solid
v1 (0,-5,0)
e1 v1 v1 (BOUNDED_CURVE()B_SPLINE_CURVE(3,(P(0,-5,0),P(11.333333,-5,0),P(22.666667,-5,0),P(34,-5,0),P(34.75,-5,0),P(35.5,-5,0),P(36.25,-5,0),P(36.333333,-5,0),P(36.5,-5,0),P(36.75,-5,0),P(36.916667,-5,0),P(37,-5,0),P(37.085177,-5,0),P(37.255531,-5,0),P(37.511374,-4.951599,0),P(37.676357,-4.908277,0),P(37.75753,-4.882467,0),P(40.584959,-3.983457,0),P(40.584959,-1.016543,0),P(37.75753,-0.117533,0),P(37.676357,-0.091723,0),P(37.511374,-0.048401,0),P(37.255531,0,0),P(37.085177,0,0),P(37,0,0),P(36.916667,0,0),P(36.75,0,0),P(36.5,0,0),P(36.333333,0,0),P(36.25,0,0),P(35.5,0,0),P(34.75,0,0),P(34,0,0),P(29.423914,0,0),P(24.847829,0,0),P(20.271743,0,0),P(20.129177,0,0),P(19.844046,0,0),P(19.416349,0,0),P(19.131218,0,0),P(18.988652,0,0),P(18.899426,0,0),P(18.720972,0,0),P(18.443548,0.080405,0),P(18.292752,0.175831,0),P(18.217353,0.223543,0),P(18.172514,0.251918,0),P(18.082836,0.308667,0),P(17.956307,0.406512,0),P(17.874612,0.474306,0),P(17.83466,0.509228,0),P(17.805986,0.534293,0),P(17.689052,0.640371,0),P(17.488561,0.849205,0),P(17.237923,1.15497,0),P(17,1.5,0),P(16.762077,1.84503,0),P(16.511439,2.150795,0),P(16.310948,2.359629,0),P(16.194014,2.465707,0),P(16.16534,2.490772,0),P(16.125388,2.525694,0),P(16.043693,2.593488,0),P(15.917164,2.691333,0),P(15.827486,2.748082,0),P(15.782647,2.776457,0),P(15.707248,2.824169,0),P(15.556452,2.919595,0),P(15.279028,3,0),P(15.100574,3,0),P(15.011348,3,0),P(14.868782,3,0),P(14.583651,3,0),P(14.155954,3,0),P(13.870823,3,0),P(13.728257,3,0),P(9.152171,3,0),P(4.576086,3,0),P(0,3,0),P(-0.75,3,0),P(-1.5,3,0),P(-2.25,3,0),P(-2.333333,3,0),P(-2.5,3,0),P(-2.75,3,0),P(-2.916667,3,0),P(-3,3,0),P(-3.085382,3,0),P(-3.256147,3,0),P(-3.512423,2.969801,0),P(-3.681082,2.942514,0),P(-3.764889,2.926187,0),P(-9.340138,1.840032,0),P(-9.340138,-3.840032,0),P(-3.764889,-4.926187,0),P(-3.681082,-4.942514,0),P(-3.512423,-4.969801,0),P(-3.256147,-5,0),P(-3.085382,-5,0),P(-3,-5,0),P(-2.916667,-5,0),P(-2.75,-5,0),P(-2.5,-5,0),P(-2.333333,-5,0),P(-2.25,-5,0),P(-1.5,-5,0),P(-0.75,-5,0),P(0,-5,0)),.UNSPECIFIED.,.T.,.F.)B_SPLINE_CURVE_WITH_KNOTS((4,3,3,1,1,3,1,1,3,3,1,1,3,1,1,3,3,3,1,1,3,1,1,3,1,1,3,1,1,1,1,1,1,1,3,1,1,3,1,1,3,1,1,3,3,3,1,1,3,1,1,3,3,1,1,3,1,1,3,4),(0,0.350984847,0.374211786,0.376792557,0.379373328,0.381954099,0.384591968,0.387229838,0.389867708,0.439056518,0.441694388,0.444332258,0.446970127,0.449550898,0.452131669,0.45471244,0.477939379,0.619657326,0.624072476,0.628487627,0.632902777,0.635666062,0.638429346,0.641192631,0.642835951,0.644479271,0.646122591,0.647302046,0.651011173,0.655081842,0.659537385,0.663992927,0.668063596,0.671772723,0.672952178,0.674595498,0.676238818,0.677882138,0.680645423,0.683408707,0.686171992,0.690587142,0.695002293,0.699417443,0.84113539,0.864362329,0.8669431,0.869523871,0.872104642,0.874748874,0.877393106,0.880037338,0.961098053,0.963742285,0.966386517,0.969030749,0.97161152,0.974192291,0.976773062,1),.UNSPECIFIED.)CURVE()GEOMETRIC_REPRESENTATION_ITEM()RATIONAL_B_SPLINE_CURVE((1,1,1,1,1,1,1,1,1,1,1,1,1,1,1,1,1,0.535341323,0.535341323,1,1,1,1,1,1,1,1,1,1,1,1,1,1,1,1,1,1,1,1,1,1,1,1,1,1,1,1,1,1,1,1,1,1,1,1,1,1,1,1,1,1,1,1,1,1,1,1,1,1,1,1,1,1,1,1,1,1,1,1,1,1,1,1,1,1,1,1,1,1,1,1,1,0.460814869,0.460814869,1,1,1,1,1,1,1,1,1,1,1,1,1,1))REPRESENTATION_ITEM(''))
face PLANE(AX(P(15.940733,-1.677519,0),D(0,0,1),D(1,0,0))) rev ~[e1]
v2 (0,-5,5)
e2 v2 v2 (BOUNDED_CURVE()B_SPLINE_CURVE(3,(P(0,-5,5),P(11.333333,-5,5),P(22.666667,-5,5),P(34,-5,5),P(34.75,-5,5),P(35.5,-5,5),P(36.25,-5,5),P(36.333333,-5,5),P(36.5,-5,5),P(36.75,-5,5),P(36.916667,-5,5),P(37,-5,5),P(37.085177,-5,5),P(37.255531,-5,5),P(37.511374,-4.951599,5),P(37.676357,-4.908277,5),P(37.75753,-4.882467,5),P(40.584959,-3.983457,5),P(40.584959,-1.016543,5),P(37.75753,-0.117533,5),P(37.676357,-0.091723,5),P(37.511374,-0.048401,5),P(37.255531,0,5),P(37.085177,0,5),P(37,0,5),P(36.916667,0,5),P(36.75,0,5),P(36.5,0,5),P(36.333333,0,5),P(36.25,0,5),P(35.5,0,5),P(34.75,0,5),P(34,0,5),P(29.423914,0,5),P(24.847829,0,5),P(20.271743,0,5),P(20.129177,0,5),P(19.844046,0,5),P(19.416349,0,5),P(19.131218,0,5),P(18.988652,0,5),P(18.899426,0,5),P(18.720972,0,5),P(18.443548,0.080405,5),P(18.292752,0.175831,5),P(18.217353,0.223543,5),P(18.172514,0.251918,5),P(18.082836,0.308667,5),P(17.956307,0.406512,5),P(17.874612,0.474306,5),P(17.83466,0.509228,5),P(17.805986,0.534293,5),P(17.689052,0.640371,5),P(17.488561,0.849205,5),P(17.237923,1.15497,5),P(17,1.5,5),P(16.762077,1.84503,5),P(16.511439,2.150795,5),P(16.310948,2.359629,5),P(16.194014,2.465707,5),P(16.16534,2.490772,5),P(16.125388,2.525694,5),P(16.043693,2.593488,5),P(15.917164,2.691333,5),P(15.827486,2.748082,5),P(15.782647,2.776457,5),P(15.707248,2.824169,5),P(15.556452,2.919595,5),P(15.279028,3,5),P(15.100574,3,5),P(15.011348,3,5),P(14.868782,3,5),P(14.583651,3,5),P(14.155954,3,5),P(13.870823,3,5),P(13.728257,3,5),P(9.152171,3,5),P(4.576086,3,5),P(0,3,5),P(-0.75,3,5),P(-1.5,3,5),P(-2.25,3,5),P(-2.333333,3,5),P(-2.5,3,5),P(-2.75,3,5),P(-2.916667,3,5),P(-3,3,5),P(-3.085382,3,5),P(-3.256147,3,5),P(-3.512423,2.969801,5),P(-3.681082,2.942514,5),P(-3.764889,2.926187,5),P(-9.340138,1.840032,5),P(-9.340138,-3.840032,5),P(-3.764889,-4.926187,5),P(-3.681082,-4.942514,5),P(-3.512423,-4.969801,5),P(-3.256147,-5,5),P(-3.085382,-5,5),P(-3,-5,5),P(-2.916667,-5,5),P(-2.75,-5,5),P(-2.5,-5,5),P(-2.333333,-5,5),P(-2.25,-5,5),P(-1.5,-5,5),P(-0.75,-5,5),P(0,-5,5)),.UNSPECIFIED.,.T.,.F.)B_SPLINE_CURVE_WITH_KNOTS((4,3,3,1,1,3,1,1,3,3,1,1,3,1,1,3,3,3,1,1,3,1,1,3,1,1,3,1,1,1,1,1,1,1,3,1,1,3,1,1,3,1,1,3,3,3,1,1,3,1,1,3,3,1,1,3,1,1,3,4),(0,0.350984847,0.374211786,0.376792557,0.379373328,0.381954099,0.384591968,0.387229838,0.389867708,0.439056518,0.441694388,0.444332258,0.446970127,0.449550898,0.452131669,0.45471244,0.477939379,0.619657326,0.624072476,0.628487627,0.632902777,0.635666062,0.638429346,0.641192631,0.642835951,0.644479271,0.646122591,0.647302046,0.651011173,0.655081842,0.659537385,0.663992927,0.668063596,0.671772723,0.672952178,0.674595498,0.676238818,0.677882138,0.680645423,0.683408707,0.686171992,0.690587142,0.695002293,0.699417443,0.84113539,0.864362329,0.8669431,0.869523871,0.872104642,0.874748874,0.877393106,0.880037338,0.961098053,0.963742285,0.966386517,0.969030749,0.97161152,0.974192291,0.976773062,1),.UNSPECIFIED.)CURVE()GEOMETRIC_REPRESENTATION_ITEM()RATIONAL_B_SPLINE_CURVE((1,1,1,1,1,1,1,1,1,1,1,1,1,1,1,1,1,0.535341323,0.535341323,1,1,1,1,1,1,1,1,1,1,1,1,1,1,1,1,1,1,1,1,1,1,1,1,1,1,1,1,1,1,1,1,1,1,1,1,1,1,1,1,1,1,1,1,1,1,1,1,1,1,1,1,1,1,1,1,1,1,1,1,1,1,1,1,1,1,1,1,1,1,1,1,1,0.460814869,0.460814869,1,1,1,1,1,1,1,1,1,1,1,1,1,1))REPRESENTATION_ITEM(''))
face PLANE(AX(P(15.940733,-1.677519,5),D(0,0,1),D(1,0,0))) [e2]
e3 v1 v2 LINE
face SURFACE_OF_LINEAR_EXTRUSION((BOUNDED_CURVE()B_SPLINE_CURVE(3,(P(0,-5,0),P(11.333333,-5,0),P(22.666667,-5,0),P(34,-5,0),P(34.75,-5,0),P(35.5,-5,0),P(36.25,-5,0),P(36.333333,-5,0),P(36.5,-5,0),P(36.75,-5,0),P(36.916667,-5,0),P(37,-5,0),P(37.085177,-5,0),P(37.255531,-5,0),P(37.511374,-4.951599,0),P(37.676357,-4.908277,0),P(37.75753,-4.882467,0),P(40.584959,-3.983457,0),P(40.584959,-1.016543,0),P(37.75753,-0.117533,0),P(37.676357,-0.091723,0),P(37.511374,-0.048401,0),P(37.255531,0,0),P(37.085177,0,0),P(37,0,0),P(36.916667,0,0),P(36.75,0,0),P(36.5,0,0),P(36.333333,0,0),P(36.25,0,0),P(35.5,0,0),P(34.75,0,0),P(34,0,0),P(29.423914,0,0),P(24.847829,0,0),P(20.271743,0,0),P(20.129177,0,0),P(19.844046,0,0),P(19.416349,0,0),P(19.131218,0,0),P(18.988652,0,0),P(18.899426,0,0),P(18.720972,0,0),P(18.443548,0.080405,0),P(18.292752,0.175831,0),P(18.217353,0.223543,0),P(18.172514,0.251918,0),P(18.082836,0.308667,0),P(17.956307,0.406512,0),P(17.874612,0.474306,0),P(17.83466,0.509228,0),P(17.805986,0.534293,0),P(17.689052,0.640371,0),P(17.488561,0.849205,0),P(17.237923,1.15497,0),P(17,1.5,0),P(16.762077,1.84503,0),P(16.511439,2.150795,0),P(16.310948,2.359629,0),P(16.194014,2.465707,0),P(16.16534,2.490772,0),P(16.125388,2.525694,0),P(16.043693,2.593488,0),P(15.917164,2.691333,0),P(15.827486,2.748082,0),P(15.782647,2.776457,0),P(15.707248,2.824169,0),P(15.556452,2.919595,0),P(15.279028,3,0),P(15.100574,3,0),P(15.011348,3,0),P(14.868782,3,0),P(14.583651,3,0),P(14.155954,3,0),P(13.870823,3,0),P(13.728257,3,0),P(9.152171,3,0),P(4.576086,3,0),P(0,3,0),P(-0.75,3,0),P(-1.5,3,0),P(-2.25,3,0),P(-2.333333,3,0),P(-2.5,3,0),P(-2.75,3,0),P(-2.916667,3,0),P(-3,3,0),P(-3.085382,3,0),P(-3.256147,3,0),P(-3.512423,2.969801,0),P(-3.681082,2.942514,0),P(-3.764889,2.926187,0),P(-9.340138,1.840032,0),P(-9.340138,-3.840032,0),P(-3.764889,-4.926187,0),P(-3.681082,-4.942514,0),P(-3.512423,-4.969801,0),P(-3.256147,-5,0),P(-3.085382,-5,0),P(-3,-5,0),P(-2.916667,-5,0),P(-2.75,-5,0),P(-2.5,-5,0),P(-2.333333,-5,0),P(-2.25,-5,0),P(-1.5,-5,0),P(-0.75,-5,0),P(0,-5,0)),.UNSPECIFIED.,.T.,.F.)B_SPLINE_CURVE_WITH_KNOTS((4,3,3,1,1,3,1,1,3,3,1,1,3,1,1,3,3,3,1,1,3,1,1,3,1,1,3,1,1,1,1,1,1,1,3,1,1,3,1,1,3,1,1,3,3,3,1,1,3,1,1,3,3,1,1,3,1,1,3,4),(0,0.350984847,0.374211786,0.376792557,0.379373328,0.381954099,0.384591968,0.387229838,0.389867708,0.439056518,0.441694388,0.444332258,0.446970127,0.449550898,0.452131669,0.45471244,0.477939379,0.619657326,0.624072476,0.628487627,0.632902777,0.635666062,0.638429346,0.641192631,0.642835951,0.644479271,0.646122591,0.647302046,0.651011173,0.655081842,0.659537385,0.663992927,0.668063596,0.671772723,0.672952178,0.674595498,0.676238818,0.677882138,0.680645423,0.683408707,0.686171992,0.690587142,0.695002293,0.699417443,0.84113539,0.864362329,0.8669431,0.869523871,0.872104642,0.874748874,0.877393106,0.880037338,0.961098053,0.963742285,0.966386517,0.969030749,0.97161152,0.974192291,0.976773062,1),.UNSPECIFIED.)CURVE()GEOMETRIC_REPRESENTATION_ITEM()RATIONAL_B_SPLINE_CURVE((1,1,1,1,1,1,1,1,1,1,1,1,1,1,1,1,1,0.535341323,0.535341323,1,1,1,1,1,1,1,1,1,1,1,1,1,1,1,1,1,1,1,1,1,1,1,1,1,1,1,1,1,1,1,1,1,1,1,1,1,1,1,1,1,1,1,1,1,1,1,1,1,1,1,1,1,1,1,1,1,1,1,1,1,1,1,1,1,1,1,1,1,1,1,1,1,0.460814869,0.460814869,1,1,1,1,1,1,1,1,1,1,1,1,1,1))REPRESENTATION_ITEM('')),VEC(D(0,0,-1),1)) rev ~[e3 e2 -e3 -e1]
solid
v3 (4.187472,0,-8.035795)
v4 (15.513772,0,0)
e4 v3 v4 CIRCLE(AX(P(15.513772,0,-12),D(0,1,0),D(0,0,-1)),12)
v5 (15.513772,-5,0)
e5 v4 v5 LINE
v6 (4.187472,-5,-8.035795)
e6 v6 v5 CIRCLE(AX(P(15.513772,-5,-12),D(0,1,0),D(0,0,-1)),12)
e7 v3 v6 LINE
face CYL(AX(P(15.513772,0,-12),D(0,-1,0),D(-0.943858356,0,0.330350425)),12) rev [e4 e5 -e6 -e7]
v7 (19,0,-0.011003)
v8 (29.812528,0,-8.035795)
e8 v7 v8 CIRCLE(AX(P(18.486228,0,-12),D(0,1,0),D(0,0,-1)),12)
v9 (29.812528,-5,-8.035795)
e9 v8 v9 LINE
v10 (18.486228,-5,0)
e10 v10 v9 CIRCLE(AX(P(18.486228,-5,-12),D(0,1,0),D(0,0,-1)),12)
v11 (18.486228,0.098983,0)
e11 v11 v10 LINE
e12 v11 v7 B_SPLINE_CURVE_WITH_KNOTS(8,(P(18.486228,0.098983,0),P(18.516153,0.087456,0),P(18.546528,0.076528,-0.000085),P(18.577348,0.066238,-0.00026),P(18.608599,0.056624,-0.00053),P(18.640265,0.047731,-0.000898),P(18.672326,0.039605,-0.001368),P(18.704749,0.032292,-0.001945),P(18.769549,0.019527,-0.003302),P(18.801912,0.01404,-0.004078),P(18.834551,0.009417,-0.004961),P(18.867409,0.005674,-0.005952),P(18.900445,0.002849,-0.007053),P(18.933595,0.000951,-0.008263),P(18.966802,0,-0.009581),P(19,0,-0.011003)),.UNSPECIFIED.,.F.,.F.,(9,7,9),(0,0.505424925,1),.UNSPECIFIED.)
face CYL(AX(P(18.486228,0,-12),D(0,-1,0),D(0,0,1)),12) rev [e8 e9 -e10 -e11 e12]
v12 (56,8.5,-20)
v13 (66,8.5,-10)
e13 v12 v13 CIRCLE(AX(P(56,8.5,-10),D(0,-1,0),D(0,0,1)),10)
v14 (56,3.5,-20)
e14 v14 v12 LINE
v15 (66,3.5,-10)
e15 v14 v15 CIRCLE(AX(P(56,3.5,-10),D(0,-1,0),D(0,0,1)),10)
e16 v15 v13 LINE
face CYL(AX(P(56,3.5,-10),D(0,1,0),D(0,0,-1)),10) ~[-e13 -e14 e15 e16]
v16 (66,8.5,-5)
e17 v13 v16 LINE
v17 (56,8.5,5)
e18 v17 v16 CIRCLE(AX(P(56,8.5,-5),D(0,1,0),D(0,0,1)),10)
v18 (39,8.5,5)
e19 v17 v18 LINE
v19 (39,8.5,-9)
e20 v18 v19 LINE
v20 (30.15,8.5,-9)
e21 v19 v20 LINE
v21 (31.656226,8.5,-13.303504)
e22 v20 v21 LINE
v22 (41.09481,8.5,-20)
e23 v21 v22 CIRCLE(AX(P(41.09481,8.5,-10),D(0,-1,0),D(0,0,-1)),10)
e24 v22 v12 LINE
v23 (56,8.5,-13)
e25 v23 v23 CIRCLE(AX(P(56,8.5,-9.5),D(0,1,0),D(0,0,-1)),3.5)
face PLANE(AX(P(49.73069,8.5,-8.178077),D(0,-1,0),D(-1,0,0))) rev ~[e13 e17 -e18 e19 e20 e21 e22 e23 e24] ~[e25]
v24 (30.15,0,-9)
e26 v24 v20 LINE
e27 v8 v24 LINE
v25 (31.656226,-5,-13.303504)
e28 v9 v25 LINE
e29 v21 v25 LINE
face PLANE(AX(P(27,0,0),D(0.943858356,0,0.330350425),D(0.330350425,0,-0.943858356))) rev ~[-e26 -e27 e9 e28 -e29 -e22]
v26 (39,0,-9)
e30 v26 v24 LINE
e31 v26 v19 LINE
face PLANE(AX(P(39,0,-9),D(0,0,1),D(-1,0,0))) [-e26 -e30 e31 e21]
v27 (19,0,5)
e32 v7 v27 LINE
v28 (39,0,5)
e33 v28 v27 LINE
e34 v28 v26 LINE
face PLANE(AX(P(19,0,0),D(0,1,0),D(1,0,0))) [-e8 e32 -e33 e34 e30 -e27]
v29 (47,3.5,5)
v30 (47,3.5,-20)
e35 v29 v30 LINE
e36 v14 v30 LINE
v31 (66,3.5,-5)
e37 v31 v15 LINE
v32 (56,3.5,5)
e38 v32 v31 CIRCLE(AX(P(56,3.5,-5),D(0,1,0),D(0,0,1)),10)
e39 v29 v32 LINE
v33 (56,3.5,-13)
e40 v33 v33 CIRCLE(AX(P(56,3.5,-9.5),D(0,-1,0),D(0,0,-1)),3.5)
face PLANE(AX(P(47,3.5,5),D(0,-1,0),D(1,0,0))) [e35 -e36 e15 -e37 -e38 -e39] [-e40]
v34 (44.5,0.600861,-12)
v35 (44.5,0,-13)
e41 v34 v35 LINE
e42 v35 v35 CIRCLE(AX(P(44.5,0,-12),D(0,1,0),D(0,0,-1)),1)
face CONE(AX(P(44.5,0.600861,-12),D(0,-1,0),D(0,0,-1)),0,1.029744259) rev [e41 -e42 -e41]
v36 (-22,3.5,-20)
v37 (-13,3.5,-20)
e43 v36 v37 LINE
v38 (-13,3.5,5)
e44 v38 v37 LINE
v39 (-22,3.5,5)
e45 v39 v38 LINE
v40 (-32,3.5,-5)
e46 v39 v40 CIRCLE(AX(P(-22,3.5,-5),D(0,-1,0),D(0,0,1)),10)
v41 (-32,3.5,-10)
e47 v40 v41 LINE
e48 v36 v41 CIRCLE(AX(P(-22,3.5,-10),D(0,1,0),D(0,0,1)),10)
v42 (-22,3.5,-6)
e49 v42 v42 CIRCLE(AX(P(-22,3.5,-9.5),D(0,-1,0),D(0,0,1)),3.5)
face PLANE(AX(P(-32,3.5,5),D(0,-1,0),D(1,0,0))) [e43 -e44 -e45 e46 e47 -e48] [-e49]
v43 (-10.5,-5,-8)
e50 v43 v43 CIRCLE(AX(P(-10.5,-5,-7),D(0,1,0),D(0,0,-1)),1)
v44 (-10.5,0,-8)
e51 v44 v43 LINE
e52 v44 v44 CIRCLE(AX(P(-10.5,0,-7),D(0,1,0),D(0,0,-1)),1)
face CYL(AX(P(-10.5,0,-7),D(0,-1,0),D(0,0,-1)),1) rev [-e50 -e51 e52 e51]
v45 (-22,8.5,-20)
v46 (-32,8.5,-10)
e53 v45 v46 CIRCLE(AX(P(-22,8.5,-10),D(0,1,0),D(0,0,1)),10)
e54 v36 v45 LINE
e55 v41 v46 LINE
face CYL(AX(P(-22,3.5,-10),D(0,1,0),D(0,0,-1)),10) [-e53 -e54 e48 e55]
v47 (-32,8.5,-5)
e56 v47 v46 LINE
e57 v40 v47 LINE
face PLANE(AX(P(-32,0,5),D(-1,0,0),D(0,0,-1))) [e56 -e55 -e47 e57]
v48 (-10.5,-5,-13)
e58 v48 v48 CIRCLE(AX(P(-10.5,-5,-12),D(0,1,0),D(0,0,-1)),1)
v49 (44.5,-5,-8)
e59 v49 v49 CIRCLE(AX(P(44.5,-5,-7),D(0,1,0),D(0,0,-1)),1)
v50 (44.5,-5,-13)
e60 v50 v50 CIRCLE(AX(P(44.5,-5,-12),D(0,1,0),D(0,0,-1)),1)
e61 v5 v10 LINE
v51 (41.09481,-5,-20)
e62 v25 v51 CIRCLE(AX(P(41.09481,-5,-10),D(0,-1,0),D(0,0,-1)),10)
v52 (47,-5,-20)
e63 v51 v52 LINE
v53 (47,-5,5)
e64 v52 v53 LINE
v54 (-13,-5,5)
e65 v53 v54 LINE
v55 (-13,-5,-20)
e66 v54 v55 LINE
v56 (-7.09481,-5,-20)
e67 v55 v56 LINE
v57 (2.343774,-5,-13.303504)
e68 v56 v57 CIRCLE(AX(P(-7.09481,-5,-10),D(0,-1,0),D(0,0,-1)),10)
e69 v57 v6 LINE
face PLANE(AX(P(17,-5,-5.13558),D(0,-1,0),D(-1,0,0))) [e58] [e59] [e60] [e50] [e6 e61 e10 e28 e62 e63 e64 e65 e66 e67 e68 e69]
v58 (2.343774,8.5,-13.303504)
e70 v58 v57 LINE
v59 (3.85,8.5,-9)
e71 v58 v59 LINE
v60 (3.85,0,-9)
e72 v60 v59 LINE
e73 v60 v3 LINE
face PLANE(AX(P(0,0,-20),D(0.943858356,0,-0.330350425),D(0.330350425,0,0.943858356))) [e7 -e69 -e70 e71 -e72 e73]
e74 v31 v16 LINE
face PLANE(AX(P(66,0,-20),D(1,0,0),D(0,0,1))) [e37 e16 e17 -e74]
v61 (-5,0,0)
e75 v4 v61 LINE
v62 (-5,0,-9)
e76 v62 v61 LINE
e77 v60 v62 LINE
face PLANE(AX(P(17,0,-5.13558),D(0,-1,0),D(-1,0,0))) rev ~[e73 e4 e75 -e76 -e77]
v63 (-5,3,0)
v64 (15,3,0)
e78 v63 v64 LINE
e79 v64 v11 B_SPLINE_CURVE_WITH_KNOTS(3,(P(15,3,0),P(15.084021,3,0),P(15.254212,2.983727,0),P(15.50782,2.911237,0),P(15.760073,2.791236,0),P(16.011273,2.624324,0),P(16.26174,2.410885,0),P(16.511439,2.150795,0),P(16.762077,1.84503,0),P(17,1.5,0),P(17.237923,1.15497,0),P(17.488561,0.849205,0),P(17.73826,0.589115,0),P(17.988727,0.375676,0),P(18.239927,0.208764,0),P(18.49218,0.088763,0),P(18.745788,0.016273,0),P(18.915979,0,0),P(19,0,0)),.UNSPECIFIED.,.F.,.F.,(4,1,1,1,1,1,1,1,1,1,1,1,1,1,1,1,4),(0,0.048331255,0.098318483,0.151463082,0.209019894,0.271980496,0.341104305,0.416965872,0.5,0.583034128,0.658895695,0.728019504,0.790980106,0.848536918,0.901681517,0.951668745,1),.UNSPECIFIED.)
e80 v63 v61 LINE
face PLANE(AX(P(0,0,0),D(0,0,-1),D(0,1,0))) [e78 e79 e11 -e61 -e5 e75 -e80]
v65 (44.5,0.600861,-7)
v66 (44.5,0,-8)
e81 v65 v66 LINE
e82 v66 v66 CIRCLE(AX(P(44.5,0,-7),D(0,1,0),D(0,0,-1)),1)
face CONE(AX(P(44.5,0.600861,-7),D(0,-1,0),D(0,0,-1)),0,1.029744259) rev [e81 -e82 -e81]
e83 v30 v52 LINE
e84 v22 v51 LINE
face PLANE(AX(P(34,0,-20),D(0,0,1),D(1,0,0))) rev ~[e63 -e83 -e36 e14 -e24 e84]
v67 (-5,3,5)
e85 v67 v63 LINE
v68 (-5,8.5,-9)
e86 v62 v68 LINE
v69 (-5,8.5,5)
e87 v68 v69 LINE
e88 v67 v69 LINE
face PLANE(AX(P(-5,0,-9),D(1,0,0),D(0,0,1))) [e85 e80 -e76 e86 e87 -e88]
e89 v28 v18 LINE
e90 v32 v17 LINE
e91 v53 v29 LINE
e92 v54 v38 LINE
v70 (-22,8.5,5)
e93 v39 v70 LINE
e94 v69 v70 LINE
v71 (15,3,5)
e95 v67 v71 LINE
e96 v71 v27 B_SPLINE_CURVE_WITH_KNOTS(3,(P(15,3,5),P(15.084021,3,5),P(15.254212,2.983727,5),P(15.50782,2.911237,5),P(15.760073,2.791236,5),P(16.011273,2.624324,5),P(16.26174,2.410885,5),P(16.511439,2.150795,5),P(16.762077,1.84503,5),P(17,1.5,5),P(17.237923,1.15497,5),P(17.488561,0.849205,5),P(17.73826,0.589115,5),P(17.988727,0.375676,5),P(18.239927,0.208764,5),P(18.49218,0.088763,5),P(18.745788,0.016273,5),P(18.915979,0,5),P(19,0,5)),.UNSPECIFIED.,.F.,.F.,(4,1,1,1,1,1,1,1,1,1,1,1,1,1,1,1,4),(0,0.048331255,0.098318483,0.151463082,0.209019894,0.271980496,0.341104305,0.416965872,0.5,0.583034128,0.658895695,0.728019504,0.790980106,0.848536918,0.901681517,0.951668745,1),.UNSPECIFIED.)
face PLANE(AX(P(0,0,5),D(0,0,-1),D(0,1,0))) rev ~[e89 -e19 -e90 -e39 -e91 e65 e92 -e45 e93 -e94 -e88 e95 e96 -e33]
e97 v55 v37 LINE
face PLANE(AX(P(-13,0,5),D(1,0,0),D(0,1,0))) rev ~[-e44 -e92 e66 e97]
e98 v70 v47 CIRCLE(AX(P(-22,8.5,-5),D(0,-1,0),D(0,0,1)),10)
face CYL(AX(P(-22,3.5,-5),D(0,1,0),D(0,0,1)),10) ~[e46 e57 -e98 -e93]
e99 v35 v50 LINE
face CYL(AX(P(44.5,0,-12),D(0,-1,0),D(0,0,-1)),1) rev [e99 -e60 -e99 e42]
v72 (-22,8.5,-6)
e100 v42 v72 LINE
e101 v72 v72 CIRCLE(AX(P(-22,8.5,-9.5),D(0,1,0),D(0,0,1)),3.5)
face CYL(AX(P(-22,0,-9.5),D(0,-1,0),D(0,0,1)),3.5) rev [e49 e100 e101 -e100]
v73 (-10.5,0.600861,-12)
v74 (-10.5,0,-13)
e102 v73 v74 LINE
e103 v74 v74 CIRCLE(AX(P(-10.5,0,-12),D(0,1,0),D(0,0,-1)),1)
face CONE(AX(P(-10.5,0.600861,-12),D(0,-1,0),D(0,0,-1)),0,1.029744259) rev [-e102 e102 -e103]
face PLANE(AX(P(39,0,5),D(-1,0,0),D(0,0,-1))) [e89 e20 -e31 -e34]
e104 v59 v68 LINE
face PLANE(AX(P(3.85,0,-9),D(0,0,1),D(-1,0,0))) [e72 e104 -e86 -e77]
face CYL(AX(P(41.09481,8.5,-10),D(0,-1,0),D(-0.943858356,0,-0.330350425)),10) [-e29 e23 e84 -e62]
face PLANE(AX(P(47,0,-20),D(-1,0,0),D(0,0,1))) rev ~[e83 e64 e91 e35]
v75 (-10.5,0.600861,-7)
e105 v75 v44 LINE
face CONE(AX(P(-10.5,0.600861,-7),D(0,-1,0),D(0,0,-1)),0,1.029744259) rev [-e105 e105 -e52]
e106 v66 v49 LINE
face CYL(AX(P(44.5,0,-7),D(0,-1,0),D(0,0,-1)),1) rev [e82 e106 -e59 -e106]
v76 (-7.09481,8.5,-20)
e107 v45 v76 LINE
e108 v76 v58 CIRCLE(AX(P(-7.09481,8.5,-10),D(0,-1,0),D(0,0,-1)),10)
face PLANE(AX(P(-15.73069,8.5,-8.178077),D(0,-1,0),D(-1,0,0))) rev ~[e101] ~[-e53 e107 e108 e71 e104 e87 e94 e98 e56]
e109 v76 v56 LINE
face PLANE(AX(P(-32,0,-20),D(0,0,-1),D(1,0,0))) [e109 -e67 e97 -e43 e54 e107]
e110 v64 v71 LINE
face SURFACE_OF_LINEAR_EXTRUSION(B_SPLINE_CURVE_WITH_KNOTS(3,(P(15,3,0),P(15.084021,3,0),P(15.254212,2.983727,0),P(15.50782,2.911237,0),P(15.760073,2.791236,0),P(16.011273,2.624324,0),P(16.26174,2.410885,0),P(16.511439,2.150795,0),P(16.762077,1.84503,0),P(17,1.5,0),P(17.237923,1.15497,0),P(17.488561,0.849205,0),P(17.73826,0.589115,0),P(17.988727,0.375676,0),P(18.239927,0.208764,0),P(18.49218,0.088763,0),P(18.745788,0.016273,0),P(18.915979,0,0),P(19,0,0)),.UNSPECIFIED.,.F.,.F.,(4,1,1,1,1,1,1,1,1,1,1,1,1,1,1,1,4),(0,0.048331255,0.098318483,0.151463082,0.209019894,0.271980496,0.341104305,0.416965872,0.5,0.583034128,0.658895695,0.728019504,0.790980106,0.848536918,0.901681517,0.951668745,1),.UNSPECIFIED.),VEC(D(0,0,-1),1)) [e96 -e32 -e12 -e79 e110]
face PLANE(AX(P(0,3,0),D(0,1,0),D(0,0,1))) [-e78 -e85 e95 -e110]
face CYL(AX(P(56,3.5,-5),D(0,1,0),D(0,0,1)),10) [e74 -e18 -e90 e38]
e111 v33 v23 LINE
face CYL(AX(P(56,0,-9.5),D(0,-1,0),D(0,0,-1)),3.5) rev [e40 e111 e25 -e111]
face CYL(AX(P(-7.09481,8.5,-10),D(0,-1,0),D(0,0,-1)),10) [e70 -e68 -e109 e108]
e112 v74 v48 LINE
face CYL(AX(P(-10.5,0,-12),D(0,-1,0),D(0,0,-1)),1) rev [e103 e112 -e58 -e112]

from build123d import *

# Parameters (mm, degrees)
EXTRUDE_1_DEPTH              = 5
EXTRUDE_2_DEPTH              = 5
SKETCH_3_R                   = 3.5
EXTRUDE_3_DEPTH              = 8.5
CUT_EXTRUDE_1_REACH          = 73.086
SKETCH_4_W                   = 19
SKETCH_4_H                   = 3.5
FILLET_5_R                   = 10
FILLET_6_R                   = 12
EXTRUDE_4_REACH              = 71.486
SKETCH_5_W                   = 5
SKETCH_5_H                   = 3
EXTRUDE_5_DEPTH              = 5
MM_TRANSITIONAL_0_AT_2_COUNT = 2
MM_TRANSITIONAL_0_AT_2_PITCH = 5
MM_TRANSITIONAL_0_AT_3_COUNT = 2
MM_TRANSITIONAL_0_AT_3_PITCH = 55
MM_TRANSITIONAL_0_AT_4_COUNT = 2
MM_TRANSITIONAL_0_AT_4_PITCH = 55.226805086


with BuildPart() as part:
    # 草图1 → 凸台-拉伸1 (new body)
    with BuildSketch(Plane.XY):
        with BuildLine():
            Line((0, 0), (0, 3))
            Line((0, 3), (15, 3))
            add(Edge.make_bspline(
                [(15, 3), (15.084020518, 3), (15.25421211, 2.98372688), (15.507820044, 2.911236723), (15.760073164, 2.791236035), (16.011273009, 2.624324039), (16.261740047, 2.410885471), (16.511438591, 2.15079543), (16.762076533, 1.845030055), (17, 1.5), (17.237923467, 1.154969945), (17.488561409, 0.84920457), (17.738259953, 0.589114529), (17.988726991, 0.375675961), (18.239926836, 0.208763965), (18.492179956, 0.088763277), (18.74578789, 0.01627312), (18.915979482, 0), (19, 0)],
                knots=[0, 0, 0, 0, 0.048331255, 0.098318483, 0.151463082, 0.209019894, 0.271980496, 0.341104305, 0.416965872, 0.5, 0.583034128, 0.658895695, 0.728019504, 0.790980106, 0.848536918, 0.901681517, 0.951668745, 1, 1, 1, 1], degree=3))
            Line((19, 0), (34, 0))
            Line((34, 0), (34, -5))
            Line((34, -5), (0, -5))
            Line((0, -5), (0, 0))
        make_face()
    extrude(amount=EXTRUDE_1_DEPTH)

    # 草图2 → 凸台-拉伸2 (add)
    with BuildSketch(Plane(origin=(0, 0, 0), x_dir=(1, 0, 0), z_dir=(0, 1, 0))):
        Polygon((-13, 20), (0, 20), (7, 0), (27, 0), (34, 20), (47, 20), (47, -5), (-13, -5), align=None)
    extrude(amount=-EXTRUDE_2_DEPTH)

    # 草图3 → 凸台-拉伸3 (add)
    with BuildSketch(Plane(origin=(0, 0, 0), x_dir=(1, 0, 0), z_dir=(0, 1, 0))):
        Polygon((-32, 20), (0, 20), (3.85, 9), (-5, 9), (-5, -5), (-32, -5), align=None)
        with Locations(Location((-22, 9.5, 0), (0, 0, 270))):
            Circle(SKETCH_3_R, mode=Mode.SUBTRACT)
        Polygon((30.15, 9), (34, 20), (66, 20), (66, -5), (39, -5), (39, 9), align=None)
        with Locations(Location((56, 9.5, 0), (0, 0, 90))):
            Circle(SKETCH_3_R, mode=Mode.SUBTRACT)
    extrude(amount=EXTRUDE_3_DEPTH)

    # 草图4 → 切除-拉伸1 (cut, up to next)
    with BuildSketch(Plane.XY.offset(5), mode=Mode.PRIVATE) as cut_extrude_1_sk1:
        with Locations((-22.5, 1.75)):
            Rectangle(SKETCH_4_W, SKETCH_4_H)
    cut_extrude_1_tool1 = extrude(cut_extrude_1_sk1.sketch, amount=-CUT_EXTRUDE_1_REACH, mode=Mode.PRIVATE) & part.part
    # 草图4 → 切除-拉伸1 (cut, up to next)
    with BuildSketch(Plane.XY.offset(5), mode=Mode.PRIVATE) as cut_extrude_1_sk2:
        with Locations((56.5, 1.75)):
            Rectangle(SKETCH_4_W, SKETCH_4_H)
    cut_extrude_1_tool2 = extrude(cut_extrude_1_sk2.sketch, amount=-CUT_EXTRUDE_1_REACH, mode=Mode.PRIVATE) & part.part
    add(cut_extrude_1_tool1.solids().sort_by_distance((-22.5, 1.75, 5))[0], mode=Mode.SUBTRACT)
    add(cut_extrude_1_tool2.solids().sort_by_distance((56.5, 1.75, 5))[0], mode=Mode.SUBTRACT)

    # 圆角5
    fillet_5_edges = [part.edges().sort_by_distance(p)[0] for p in [
        (0, 1.75, -20),
        (34, 1.75, -20),
        (-32, 6, -20),
        (-32, 6, 5),
        (66, 6, 5),
        (66, 6, -20),
    ]]
    fillet(fillet_5_edges, radius=FILLET_5_R)

    # 圆角6
    fillet_6_edges = [part.edges().sort_by_distance(p)[0] for p in [
        (7, -2.5, 0),
        (27, -2.5, 0),
    ]]
    fillet(fillet_6_edges, radius=FILLET_6_R)

    # 草图5 → 凸台-拉伸4 (add, up to next)
    with BuildSketch(Plane.ZY, mode=Mode.PRIVATE) as extrude_4_sk1:
        with Locations((2.5, 1.5)):
            Rectangle(SKETCH_5_W, SKETCH_5_H)
    extrude_4_tool1 = extrude(extrude_4_sk1.sketch, amount=EXTRUDE_4_REACH, mode=Mode.PRIVATE) - part.part
    add(extrude_4_tool1.solids().sort_by_distance((0, 1.5, 2.5))[0])

    # 草图9 → 大小mm Transitional 暗销孔0 (revolve, cut)
    with BuildSketch(Plane(origin=(44.5, -5, -7.000000033), x_dir=(0, 0, -1), z_dir=(1, 0, 0))):
        Polygon((0, 0), (0, 5.600860619), (1, 5), (1, 0), align=None)
    mm_transitional_0 = revolve(axis=Axis((44.5, -11.35, -7.000000033), (0, 1, 0)), mode=Mode.SUBTRACT)

    # 大小mm Transitional 暗销孔0 at 2: 大小mm Transitional 暗销孔0 ×2
    with Locations(*[(0, 0, -i * MM_TRANSITIONAL_0_AT_2_PITCH) for i in range(1, MM_TRANSITIONAL_0_AT_2_COUNT)]):
        add(mm_transitional_0, mode=Mode.SUBTRACT)

    # 大小mm Transitional 暗销孔0 at 3: 大小mm Transitional 暗销孔0 ×2
    with Locations(*[(-i * MM_TRANSITIONAL_0_AT_3_PITCH, 0, 0) for i in range(1, MM_TRANSITIONAL_0_AT_3_COUNT)]):
        add(mm_transitional_0, mode=Mode.SUBTRACT)

    # 大小mm Transitional 暗销孔0 at 4: 大小mm Transitional 暗销孔0 ×2
    with Locations(*[Vector(-0.9958932064677039, 0, -0.09053574604251886) * (i * MM_TRANSITIONAL_0_AT_4_PITCH) for i in range(1, MM_TRANSITIONAL_0_AT_4_COUNT)]):
        add(mm_transitional_0, mode=Mode.SUBTRACT)


with BuildPart() as body_2:
    # 草图7 → 凸台-拉伸5 (new body)
    with BuildSketch(Plane.XY):
        with BuildLine():
            add(Edge.make_bspline(
                [(0, -5), (11.333333333, -5), (22.666666667, -5), (34, -5), (34.75, -5), (35.5, -5), (36.25, -5), (36.333333333, -5), (36.5, -5), (36.75, -5), (36.916666667, -5), (37, -5), (37.085177062, -5), (37.255531185, -5), (37.511374058, -4.951599022), (37.67635735, -4.908276535), (37.757529961, -4.882466864), (40.584958925, -3.983456605), (40.584958925, -1.016543395), (37.757529961, -0.117533136), (37.67635735, -0.091723465), (37.511374058, -0.048400978), (37.255531185, 0), (37.085177062, 0), (37, 0), (36.916666667, 0), (36.75, 0), (36.5, 0), (36.333333333, 0), (36.25, 0), (35.5, 0), (34.75, 0), (34, 0), (29.423914321, 0), (24.847828642, 0), (20.271742963, 0), (20.129177345, 0), (19.844046109, 0), (19.416349256, 0), (19.13121802, 0), (18.988652402, 0), (18.899425687, 0), (18.720972257, 0), (18.443548085, 0.080405029), (18.292751559, 0.175830572), (18.217353296, 0.223543343), (18.172514092, 0.251918038), (18.082835683, 0.308667427), (17.956306563, 0.406511786), (17.874611554, 0.474305988), (17.834660313, 0.509228415), (17.805986227, 0.534293186), (17.68905163, 0.640370713), (17.488561409, 0.84920457), (17.237923467, 1.154969945), (17, 1.5), (16.762076533, 1.845030055), (16.511438591, 2.15079543), (16.31094837, 2.359629287), (16.194013773, 2.465706814), (16.165339687, 2.490771585), (16.125388446, 2.525694012), (16.043693437, 2.593488214), (15.917164317, 2.691332573), (15.827485908, 2.748081962), (15.782646704, 2.776456657), (15.707248441, 2.824169428), (15.556451915, 2.919594971), (15.279027743, 3), (15.100574313, 3), (15.011347598, 3), (14.86878198, 3), (14.583650744, 3), (14.155953891, 3), (13.870822655, 3), (13.728257037, 3), (9.152171358, 3), (4.576085679, 3), (0, 3), (-0.75, 3), (-1.5, 3), (-2.25, 3), (-2.333333333, 3), (-2.5, 3), (-2.75, 3), (-2.916666667, 3), (-3, 3), (-3.085382499, 3), (-3.256147498, 3), (-3.512422936, 2.969801398), (-3.681082298, 2.942514055), (-3.764889213, 2.926187017), (-9.340137732, 1.840032069), (-9.340137732, -3.840032069), (-3.764889213, -4.926187017), (-3.681082298, -4.942514055), (-3.512422936, -4.969801398), (-3.256147498, -5), (-3.085382499, -5), (-3, -5), (-2.916666667, -5), (-2.75, -5), (-2.5, -5), (-2.333333333, -5), (-2.25, -5), (-1.5, -5), (-0.75, -5), (0, -5)],
                knots=[0, 0, 0, 0, 0.350984847, 0.350984847, 0.350984847, 0.374211786, 0.374211786, 0.374211786, 0.376792557, 0.379373328, 0.381954099, 0.381954099, 0.381954099, 0.384591968, 0.387229838, 0.389867708, 0.389867708, 0.389867708, 0.439056518, 0.439056518, 0.439056518, 0.441694388, 0.444332258, 0.446970127, 0.446970127, 0.446970127, 0.449550898, 0.452131669, 0.45471244, 0.45471244, 0.45471244, 0.477939379, 0.477939379, 0.477939379, 0.619657326, 0.619657326, 0.619657326, 0.624072476, 0.628487627, 0.632902777, 0.632902777, 0.632902777, 0.635666062, 0.638429346, 0.641192631, 0.641192631, 0.641192631, 0.642835951, 0.644479271, 0.646122591, 0.646122591, 0.646122591, 0.647302046, 0.651011173, 0.655081842, 0.659537385, 0.663992927, 0.668063596, 0.671772723, 0.672952178, 0.672952178, 0.672952178, 0.674595498, 0.676238818, 0.677882138, 0.677882138, 0.677882138, 0.680645423, 0.683408707, 0.686171992, 0.686171992, 0.686171992, 0.690587142, 0.695002293, 0.699417443, 0.699417443, 0.699417443, 0.84113539, 0.84113539, 0.84113539, 0.864362329, 0.864362329, 0.864362329, 0.8669431, 0.869523871, 0.872104642, 0.872104642, 0.872104642, 0.874748874, 0.877393106, 0.880037338, 0.880037338, 0.880037338, 0.961098053, 0.961098053, 0.961098053, 0.963742285, 0.966386517, 0.969030749, 0.969030749, 0.969030749, 0.97161152, 0.974192291, 0.976773062, 0.976773062, 0.976773062, 1, 1, 1, 1], degree=3, weights=[1, 1, 1, 1, 1, 1, 1, 1, 1, 1, 1, 1, 1, 1, 1, 1, 1, 0.535341323, 0.535341323, 1, 1, 1, 1, 1, 1, 1, 1, 1, 1, 1, 1, 1, 1, 1, 1, 1, 1, 1, 1, 1, 1, 1, 1, 1, 1, 1, 1, 1, 1, 1, 1, 1, 1, 1, 1, 1, 1, 1, 1, 1, 1, 1, 1, 1, 1, 1, 1, 1, 1, 1, 1, 1, 1, 1, 1, 1, 1, 1, 1, 1, 1, 1, 1, 1, 1, 1, 1, 1, 1, 1, 1, 1, 0.460814869, 0.460814869, 1, 1, 1, 1, 1, 1, 1, 1, 1, 1, 1, 1, 1, 1]))
        make_face()
    extrude(amount=EXTRUDE_5_DEPTH)


solid = Compound([part.part, body_2.part])
